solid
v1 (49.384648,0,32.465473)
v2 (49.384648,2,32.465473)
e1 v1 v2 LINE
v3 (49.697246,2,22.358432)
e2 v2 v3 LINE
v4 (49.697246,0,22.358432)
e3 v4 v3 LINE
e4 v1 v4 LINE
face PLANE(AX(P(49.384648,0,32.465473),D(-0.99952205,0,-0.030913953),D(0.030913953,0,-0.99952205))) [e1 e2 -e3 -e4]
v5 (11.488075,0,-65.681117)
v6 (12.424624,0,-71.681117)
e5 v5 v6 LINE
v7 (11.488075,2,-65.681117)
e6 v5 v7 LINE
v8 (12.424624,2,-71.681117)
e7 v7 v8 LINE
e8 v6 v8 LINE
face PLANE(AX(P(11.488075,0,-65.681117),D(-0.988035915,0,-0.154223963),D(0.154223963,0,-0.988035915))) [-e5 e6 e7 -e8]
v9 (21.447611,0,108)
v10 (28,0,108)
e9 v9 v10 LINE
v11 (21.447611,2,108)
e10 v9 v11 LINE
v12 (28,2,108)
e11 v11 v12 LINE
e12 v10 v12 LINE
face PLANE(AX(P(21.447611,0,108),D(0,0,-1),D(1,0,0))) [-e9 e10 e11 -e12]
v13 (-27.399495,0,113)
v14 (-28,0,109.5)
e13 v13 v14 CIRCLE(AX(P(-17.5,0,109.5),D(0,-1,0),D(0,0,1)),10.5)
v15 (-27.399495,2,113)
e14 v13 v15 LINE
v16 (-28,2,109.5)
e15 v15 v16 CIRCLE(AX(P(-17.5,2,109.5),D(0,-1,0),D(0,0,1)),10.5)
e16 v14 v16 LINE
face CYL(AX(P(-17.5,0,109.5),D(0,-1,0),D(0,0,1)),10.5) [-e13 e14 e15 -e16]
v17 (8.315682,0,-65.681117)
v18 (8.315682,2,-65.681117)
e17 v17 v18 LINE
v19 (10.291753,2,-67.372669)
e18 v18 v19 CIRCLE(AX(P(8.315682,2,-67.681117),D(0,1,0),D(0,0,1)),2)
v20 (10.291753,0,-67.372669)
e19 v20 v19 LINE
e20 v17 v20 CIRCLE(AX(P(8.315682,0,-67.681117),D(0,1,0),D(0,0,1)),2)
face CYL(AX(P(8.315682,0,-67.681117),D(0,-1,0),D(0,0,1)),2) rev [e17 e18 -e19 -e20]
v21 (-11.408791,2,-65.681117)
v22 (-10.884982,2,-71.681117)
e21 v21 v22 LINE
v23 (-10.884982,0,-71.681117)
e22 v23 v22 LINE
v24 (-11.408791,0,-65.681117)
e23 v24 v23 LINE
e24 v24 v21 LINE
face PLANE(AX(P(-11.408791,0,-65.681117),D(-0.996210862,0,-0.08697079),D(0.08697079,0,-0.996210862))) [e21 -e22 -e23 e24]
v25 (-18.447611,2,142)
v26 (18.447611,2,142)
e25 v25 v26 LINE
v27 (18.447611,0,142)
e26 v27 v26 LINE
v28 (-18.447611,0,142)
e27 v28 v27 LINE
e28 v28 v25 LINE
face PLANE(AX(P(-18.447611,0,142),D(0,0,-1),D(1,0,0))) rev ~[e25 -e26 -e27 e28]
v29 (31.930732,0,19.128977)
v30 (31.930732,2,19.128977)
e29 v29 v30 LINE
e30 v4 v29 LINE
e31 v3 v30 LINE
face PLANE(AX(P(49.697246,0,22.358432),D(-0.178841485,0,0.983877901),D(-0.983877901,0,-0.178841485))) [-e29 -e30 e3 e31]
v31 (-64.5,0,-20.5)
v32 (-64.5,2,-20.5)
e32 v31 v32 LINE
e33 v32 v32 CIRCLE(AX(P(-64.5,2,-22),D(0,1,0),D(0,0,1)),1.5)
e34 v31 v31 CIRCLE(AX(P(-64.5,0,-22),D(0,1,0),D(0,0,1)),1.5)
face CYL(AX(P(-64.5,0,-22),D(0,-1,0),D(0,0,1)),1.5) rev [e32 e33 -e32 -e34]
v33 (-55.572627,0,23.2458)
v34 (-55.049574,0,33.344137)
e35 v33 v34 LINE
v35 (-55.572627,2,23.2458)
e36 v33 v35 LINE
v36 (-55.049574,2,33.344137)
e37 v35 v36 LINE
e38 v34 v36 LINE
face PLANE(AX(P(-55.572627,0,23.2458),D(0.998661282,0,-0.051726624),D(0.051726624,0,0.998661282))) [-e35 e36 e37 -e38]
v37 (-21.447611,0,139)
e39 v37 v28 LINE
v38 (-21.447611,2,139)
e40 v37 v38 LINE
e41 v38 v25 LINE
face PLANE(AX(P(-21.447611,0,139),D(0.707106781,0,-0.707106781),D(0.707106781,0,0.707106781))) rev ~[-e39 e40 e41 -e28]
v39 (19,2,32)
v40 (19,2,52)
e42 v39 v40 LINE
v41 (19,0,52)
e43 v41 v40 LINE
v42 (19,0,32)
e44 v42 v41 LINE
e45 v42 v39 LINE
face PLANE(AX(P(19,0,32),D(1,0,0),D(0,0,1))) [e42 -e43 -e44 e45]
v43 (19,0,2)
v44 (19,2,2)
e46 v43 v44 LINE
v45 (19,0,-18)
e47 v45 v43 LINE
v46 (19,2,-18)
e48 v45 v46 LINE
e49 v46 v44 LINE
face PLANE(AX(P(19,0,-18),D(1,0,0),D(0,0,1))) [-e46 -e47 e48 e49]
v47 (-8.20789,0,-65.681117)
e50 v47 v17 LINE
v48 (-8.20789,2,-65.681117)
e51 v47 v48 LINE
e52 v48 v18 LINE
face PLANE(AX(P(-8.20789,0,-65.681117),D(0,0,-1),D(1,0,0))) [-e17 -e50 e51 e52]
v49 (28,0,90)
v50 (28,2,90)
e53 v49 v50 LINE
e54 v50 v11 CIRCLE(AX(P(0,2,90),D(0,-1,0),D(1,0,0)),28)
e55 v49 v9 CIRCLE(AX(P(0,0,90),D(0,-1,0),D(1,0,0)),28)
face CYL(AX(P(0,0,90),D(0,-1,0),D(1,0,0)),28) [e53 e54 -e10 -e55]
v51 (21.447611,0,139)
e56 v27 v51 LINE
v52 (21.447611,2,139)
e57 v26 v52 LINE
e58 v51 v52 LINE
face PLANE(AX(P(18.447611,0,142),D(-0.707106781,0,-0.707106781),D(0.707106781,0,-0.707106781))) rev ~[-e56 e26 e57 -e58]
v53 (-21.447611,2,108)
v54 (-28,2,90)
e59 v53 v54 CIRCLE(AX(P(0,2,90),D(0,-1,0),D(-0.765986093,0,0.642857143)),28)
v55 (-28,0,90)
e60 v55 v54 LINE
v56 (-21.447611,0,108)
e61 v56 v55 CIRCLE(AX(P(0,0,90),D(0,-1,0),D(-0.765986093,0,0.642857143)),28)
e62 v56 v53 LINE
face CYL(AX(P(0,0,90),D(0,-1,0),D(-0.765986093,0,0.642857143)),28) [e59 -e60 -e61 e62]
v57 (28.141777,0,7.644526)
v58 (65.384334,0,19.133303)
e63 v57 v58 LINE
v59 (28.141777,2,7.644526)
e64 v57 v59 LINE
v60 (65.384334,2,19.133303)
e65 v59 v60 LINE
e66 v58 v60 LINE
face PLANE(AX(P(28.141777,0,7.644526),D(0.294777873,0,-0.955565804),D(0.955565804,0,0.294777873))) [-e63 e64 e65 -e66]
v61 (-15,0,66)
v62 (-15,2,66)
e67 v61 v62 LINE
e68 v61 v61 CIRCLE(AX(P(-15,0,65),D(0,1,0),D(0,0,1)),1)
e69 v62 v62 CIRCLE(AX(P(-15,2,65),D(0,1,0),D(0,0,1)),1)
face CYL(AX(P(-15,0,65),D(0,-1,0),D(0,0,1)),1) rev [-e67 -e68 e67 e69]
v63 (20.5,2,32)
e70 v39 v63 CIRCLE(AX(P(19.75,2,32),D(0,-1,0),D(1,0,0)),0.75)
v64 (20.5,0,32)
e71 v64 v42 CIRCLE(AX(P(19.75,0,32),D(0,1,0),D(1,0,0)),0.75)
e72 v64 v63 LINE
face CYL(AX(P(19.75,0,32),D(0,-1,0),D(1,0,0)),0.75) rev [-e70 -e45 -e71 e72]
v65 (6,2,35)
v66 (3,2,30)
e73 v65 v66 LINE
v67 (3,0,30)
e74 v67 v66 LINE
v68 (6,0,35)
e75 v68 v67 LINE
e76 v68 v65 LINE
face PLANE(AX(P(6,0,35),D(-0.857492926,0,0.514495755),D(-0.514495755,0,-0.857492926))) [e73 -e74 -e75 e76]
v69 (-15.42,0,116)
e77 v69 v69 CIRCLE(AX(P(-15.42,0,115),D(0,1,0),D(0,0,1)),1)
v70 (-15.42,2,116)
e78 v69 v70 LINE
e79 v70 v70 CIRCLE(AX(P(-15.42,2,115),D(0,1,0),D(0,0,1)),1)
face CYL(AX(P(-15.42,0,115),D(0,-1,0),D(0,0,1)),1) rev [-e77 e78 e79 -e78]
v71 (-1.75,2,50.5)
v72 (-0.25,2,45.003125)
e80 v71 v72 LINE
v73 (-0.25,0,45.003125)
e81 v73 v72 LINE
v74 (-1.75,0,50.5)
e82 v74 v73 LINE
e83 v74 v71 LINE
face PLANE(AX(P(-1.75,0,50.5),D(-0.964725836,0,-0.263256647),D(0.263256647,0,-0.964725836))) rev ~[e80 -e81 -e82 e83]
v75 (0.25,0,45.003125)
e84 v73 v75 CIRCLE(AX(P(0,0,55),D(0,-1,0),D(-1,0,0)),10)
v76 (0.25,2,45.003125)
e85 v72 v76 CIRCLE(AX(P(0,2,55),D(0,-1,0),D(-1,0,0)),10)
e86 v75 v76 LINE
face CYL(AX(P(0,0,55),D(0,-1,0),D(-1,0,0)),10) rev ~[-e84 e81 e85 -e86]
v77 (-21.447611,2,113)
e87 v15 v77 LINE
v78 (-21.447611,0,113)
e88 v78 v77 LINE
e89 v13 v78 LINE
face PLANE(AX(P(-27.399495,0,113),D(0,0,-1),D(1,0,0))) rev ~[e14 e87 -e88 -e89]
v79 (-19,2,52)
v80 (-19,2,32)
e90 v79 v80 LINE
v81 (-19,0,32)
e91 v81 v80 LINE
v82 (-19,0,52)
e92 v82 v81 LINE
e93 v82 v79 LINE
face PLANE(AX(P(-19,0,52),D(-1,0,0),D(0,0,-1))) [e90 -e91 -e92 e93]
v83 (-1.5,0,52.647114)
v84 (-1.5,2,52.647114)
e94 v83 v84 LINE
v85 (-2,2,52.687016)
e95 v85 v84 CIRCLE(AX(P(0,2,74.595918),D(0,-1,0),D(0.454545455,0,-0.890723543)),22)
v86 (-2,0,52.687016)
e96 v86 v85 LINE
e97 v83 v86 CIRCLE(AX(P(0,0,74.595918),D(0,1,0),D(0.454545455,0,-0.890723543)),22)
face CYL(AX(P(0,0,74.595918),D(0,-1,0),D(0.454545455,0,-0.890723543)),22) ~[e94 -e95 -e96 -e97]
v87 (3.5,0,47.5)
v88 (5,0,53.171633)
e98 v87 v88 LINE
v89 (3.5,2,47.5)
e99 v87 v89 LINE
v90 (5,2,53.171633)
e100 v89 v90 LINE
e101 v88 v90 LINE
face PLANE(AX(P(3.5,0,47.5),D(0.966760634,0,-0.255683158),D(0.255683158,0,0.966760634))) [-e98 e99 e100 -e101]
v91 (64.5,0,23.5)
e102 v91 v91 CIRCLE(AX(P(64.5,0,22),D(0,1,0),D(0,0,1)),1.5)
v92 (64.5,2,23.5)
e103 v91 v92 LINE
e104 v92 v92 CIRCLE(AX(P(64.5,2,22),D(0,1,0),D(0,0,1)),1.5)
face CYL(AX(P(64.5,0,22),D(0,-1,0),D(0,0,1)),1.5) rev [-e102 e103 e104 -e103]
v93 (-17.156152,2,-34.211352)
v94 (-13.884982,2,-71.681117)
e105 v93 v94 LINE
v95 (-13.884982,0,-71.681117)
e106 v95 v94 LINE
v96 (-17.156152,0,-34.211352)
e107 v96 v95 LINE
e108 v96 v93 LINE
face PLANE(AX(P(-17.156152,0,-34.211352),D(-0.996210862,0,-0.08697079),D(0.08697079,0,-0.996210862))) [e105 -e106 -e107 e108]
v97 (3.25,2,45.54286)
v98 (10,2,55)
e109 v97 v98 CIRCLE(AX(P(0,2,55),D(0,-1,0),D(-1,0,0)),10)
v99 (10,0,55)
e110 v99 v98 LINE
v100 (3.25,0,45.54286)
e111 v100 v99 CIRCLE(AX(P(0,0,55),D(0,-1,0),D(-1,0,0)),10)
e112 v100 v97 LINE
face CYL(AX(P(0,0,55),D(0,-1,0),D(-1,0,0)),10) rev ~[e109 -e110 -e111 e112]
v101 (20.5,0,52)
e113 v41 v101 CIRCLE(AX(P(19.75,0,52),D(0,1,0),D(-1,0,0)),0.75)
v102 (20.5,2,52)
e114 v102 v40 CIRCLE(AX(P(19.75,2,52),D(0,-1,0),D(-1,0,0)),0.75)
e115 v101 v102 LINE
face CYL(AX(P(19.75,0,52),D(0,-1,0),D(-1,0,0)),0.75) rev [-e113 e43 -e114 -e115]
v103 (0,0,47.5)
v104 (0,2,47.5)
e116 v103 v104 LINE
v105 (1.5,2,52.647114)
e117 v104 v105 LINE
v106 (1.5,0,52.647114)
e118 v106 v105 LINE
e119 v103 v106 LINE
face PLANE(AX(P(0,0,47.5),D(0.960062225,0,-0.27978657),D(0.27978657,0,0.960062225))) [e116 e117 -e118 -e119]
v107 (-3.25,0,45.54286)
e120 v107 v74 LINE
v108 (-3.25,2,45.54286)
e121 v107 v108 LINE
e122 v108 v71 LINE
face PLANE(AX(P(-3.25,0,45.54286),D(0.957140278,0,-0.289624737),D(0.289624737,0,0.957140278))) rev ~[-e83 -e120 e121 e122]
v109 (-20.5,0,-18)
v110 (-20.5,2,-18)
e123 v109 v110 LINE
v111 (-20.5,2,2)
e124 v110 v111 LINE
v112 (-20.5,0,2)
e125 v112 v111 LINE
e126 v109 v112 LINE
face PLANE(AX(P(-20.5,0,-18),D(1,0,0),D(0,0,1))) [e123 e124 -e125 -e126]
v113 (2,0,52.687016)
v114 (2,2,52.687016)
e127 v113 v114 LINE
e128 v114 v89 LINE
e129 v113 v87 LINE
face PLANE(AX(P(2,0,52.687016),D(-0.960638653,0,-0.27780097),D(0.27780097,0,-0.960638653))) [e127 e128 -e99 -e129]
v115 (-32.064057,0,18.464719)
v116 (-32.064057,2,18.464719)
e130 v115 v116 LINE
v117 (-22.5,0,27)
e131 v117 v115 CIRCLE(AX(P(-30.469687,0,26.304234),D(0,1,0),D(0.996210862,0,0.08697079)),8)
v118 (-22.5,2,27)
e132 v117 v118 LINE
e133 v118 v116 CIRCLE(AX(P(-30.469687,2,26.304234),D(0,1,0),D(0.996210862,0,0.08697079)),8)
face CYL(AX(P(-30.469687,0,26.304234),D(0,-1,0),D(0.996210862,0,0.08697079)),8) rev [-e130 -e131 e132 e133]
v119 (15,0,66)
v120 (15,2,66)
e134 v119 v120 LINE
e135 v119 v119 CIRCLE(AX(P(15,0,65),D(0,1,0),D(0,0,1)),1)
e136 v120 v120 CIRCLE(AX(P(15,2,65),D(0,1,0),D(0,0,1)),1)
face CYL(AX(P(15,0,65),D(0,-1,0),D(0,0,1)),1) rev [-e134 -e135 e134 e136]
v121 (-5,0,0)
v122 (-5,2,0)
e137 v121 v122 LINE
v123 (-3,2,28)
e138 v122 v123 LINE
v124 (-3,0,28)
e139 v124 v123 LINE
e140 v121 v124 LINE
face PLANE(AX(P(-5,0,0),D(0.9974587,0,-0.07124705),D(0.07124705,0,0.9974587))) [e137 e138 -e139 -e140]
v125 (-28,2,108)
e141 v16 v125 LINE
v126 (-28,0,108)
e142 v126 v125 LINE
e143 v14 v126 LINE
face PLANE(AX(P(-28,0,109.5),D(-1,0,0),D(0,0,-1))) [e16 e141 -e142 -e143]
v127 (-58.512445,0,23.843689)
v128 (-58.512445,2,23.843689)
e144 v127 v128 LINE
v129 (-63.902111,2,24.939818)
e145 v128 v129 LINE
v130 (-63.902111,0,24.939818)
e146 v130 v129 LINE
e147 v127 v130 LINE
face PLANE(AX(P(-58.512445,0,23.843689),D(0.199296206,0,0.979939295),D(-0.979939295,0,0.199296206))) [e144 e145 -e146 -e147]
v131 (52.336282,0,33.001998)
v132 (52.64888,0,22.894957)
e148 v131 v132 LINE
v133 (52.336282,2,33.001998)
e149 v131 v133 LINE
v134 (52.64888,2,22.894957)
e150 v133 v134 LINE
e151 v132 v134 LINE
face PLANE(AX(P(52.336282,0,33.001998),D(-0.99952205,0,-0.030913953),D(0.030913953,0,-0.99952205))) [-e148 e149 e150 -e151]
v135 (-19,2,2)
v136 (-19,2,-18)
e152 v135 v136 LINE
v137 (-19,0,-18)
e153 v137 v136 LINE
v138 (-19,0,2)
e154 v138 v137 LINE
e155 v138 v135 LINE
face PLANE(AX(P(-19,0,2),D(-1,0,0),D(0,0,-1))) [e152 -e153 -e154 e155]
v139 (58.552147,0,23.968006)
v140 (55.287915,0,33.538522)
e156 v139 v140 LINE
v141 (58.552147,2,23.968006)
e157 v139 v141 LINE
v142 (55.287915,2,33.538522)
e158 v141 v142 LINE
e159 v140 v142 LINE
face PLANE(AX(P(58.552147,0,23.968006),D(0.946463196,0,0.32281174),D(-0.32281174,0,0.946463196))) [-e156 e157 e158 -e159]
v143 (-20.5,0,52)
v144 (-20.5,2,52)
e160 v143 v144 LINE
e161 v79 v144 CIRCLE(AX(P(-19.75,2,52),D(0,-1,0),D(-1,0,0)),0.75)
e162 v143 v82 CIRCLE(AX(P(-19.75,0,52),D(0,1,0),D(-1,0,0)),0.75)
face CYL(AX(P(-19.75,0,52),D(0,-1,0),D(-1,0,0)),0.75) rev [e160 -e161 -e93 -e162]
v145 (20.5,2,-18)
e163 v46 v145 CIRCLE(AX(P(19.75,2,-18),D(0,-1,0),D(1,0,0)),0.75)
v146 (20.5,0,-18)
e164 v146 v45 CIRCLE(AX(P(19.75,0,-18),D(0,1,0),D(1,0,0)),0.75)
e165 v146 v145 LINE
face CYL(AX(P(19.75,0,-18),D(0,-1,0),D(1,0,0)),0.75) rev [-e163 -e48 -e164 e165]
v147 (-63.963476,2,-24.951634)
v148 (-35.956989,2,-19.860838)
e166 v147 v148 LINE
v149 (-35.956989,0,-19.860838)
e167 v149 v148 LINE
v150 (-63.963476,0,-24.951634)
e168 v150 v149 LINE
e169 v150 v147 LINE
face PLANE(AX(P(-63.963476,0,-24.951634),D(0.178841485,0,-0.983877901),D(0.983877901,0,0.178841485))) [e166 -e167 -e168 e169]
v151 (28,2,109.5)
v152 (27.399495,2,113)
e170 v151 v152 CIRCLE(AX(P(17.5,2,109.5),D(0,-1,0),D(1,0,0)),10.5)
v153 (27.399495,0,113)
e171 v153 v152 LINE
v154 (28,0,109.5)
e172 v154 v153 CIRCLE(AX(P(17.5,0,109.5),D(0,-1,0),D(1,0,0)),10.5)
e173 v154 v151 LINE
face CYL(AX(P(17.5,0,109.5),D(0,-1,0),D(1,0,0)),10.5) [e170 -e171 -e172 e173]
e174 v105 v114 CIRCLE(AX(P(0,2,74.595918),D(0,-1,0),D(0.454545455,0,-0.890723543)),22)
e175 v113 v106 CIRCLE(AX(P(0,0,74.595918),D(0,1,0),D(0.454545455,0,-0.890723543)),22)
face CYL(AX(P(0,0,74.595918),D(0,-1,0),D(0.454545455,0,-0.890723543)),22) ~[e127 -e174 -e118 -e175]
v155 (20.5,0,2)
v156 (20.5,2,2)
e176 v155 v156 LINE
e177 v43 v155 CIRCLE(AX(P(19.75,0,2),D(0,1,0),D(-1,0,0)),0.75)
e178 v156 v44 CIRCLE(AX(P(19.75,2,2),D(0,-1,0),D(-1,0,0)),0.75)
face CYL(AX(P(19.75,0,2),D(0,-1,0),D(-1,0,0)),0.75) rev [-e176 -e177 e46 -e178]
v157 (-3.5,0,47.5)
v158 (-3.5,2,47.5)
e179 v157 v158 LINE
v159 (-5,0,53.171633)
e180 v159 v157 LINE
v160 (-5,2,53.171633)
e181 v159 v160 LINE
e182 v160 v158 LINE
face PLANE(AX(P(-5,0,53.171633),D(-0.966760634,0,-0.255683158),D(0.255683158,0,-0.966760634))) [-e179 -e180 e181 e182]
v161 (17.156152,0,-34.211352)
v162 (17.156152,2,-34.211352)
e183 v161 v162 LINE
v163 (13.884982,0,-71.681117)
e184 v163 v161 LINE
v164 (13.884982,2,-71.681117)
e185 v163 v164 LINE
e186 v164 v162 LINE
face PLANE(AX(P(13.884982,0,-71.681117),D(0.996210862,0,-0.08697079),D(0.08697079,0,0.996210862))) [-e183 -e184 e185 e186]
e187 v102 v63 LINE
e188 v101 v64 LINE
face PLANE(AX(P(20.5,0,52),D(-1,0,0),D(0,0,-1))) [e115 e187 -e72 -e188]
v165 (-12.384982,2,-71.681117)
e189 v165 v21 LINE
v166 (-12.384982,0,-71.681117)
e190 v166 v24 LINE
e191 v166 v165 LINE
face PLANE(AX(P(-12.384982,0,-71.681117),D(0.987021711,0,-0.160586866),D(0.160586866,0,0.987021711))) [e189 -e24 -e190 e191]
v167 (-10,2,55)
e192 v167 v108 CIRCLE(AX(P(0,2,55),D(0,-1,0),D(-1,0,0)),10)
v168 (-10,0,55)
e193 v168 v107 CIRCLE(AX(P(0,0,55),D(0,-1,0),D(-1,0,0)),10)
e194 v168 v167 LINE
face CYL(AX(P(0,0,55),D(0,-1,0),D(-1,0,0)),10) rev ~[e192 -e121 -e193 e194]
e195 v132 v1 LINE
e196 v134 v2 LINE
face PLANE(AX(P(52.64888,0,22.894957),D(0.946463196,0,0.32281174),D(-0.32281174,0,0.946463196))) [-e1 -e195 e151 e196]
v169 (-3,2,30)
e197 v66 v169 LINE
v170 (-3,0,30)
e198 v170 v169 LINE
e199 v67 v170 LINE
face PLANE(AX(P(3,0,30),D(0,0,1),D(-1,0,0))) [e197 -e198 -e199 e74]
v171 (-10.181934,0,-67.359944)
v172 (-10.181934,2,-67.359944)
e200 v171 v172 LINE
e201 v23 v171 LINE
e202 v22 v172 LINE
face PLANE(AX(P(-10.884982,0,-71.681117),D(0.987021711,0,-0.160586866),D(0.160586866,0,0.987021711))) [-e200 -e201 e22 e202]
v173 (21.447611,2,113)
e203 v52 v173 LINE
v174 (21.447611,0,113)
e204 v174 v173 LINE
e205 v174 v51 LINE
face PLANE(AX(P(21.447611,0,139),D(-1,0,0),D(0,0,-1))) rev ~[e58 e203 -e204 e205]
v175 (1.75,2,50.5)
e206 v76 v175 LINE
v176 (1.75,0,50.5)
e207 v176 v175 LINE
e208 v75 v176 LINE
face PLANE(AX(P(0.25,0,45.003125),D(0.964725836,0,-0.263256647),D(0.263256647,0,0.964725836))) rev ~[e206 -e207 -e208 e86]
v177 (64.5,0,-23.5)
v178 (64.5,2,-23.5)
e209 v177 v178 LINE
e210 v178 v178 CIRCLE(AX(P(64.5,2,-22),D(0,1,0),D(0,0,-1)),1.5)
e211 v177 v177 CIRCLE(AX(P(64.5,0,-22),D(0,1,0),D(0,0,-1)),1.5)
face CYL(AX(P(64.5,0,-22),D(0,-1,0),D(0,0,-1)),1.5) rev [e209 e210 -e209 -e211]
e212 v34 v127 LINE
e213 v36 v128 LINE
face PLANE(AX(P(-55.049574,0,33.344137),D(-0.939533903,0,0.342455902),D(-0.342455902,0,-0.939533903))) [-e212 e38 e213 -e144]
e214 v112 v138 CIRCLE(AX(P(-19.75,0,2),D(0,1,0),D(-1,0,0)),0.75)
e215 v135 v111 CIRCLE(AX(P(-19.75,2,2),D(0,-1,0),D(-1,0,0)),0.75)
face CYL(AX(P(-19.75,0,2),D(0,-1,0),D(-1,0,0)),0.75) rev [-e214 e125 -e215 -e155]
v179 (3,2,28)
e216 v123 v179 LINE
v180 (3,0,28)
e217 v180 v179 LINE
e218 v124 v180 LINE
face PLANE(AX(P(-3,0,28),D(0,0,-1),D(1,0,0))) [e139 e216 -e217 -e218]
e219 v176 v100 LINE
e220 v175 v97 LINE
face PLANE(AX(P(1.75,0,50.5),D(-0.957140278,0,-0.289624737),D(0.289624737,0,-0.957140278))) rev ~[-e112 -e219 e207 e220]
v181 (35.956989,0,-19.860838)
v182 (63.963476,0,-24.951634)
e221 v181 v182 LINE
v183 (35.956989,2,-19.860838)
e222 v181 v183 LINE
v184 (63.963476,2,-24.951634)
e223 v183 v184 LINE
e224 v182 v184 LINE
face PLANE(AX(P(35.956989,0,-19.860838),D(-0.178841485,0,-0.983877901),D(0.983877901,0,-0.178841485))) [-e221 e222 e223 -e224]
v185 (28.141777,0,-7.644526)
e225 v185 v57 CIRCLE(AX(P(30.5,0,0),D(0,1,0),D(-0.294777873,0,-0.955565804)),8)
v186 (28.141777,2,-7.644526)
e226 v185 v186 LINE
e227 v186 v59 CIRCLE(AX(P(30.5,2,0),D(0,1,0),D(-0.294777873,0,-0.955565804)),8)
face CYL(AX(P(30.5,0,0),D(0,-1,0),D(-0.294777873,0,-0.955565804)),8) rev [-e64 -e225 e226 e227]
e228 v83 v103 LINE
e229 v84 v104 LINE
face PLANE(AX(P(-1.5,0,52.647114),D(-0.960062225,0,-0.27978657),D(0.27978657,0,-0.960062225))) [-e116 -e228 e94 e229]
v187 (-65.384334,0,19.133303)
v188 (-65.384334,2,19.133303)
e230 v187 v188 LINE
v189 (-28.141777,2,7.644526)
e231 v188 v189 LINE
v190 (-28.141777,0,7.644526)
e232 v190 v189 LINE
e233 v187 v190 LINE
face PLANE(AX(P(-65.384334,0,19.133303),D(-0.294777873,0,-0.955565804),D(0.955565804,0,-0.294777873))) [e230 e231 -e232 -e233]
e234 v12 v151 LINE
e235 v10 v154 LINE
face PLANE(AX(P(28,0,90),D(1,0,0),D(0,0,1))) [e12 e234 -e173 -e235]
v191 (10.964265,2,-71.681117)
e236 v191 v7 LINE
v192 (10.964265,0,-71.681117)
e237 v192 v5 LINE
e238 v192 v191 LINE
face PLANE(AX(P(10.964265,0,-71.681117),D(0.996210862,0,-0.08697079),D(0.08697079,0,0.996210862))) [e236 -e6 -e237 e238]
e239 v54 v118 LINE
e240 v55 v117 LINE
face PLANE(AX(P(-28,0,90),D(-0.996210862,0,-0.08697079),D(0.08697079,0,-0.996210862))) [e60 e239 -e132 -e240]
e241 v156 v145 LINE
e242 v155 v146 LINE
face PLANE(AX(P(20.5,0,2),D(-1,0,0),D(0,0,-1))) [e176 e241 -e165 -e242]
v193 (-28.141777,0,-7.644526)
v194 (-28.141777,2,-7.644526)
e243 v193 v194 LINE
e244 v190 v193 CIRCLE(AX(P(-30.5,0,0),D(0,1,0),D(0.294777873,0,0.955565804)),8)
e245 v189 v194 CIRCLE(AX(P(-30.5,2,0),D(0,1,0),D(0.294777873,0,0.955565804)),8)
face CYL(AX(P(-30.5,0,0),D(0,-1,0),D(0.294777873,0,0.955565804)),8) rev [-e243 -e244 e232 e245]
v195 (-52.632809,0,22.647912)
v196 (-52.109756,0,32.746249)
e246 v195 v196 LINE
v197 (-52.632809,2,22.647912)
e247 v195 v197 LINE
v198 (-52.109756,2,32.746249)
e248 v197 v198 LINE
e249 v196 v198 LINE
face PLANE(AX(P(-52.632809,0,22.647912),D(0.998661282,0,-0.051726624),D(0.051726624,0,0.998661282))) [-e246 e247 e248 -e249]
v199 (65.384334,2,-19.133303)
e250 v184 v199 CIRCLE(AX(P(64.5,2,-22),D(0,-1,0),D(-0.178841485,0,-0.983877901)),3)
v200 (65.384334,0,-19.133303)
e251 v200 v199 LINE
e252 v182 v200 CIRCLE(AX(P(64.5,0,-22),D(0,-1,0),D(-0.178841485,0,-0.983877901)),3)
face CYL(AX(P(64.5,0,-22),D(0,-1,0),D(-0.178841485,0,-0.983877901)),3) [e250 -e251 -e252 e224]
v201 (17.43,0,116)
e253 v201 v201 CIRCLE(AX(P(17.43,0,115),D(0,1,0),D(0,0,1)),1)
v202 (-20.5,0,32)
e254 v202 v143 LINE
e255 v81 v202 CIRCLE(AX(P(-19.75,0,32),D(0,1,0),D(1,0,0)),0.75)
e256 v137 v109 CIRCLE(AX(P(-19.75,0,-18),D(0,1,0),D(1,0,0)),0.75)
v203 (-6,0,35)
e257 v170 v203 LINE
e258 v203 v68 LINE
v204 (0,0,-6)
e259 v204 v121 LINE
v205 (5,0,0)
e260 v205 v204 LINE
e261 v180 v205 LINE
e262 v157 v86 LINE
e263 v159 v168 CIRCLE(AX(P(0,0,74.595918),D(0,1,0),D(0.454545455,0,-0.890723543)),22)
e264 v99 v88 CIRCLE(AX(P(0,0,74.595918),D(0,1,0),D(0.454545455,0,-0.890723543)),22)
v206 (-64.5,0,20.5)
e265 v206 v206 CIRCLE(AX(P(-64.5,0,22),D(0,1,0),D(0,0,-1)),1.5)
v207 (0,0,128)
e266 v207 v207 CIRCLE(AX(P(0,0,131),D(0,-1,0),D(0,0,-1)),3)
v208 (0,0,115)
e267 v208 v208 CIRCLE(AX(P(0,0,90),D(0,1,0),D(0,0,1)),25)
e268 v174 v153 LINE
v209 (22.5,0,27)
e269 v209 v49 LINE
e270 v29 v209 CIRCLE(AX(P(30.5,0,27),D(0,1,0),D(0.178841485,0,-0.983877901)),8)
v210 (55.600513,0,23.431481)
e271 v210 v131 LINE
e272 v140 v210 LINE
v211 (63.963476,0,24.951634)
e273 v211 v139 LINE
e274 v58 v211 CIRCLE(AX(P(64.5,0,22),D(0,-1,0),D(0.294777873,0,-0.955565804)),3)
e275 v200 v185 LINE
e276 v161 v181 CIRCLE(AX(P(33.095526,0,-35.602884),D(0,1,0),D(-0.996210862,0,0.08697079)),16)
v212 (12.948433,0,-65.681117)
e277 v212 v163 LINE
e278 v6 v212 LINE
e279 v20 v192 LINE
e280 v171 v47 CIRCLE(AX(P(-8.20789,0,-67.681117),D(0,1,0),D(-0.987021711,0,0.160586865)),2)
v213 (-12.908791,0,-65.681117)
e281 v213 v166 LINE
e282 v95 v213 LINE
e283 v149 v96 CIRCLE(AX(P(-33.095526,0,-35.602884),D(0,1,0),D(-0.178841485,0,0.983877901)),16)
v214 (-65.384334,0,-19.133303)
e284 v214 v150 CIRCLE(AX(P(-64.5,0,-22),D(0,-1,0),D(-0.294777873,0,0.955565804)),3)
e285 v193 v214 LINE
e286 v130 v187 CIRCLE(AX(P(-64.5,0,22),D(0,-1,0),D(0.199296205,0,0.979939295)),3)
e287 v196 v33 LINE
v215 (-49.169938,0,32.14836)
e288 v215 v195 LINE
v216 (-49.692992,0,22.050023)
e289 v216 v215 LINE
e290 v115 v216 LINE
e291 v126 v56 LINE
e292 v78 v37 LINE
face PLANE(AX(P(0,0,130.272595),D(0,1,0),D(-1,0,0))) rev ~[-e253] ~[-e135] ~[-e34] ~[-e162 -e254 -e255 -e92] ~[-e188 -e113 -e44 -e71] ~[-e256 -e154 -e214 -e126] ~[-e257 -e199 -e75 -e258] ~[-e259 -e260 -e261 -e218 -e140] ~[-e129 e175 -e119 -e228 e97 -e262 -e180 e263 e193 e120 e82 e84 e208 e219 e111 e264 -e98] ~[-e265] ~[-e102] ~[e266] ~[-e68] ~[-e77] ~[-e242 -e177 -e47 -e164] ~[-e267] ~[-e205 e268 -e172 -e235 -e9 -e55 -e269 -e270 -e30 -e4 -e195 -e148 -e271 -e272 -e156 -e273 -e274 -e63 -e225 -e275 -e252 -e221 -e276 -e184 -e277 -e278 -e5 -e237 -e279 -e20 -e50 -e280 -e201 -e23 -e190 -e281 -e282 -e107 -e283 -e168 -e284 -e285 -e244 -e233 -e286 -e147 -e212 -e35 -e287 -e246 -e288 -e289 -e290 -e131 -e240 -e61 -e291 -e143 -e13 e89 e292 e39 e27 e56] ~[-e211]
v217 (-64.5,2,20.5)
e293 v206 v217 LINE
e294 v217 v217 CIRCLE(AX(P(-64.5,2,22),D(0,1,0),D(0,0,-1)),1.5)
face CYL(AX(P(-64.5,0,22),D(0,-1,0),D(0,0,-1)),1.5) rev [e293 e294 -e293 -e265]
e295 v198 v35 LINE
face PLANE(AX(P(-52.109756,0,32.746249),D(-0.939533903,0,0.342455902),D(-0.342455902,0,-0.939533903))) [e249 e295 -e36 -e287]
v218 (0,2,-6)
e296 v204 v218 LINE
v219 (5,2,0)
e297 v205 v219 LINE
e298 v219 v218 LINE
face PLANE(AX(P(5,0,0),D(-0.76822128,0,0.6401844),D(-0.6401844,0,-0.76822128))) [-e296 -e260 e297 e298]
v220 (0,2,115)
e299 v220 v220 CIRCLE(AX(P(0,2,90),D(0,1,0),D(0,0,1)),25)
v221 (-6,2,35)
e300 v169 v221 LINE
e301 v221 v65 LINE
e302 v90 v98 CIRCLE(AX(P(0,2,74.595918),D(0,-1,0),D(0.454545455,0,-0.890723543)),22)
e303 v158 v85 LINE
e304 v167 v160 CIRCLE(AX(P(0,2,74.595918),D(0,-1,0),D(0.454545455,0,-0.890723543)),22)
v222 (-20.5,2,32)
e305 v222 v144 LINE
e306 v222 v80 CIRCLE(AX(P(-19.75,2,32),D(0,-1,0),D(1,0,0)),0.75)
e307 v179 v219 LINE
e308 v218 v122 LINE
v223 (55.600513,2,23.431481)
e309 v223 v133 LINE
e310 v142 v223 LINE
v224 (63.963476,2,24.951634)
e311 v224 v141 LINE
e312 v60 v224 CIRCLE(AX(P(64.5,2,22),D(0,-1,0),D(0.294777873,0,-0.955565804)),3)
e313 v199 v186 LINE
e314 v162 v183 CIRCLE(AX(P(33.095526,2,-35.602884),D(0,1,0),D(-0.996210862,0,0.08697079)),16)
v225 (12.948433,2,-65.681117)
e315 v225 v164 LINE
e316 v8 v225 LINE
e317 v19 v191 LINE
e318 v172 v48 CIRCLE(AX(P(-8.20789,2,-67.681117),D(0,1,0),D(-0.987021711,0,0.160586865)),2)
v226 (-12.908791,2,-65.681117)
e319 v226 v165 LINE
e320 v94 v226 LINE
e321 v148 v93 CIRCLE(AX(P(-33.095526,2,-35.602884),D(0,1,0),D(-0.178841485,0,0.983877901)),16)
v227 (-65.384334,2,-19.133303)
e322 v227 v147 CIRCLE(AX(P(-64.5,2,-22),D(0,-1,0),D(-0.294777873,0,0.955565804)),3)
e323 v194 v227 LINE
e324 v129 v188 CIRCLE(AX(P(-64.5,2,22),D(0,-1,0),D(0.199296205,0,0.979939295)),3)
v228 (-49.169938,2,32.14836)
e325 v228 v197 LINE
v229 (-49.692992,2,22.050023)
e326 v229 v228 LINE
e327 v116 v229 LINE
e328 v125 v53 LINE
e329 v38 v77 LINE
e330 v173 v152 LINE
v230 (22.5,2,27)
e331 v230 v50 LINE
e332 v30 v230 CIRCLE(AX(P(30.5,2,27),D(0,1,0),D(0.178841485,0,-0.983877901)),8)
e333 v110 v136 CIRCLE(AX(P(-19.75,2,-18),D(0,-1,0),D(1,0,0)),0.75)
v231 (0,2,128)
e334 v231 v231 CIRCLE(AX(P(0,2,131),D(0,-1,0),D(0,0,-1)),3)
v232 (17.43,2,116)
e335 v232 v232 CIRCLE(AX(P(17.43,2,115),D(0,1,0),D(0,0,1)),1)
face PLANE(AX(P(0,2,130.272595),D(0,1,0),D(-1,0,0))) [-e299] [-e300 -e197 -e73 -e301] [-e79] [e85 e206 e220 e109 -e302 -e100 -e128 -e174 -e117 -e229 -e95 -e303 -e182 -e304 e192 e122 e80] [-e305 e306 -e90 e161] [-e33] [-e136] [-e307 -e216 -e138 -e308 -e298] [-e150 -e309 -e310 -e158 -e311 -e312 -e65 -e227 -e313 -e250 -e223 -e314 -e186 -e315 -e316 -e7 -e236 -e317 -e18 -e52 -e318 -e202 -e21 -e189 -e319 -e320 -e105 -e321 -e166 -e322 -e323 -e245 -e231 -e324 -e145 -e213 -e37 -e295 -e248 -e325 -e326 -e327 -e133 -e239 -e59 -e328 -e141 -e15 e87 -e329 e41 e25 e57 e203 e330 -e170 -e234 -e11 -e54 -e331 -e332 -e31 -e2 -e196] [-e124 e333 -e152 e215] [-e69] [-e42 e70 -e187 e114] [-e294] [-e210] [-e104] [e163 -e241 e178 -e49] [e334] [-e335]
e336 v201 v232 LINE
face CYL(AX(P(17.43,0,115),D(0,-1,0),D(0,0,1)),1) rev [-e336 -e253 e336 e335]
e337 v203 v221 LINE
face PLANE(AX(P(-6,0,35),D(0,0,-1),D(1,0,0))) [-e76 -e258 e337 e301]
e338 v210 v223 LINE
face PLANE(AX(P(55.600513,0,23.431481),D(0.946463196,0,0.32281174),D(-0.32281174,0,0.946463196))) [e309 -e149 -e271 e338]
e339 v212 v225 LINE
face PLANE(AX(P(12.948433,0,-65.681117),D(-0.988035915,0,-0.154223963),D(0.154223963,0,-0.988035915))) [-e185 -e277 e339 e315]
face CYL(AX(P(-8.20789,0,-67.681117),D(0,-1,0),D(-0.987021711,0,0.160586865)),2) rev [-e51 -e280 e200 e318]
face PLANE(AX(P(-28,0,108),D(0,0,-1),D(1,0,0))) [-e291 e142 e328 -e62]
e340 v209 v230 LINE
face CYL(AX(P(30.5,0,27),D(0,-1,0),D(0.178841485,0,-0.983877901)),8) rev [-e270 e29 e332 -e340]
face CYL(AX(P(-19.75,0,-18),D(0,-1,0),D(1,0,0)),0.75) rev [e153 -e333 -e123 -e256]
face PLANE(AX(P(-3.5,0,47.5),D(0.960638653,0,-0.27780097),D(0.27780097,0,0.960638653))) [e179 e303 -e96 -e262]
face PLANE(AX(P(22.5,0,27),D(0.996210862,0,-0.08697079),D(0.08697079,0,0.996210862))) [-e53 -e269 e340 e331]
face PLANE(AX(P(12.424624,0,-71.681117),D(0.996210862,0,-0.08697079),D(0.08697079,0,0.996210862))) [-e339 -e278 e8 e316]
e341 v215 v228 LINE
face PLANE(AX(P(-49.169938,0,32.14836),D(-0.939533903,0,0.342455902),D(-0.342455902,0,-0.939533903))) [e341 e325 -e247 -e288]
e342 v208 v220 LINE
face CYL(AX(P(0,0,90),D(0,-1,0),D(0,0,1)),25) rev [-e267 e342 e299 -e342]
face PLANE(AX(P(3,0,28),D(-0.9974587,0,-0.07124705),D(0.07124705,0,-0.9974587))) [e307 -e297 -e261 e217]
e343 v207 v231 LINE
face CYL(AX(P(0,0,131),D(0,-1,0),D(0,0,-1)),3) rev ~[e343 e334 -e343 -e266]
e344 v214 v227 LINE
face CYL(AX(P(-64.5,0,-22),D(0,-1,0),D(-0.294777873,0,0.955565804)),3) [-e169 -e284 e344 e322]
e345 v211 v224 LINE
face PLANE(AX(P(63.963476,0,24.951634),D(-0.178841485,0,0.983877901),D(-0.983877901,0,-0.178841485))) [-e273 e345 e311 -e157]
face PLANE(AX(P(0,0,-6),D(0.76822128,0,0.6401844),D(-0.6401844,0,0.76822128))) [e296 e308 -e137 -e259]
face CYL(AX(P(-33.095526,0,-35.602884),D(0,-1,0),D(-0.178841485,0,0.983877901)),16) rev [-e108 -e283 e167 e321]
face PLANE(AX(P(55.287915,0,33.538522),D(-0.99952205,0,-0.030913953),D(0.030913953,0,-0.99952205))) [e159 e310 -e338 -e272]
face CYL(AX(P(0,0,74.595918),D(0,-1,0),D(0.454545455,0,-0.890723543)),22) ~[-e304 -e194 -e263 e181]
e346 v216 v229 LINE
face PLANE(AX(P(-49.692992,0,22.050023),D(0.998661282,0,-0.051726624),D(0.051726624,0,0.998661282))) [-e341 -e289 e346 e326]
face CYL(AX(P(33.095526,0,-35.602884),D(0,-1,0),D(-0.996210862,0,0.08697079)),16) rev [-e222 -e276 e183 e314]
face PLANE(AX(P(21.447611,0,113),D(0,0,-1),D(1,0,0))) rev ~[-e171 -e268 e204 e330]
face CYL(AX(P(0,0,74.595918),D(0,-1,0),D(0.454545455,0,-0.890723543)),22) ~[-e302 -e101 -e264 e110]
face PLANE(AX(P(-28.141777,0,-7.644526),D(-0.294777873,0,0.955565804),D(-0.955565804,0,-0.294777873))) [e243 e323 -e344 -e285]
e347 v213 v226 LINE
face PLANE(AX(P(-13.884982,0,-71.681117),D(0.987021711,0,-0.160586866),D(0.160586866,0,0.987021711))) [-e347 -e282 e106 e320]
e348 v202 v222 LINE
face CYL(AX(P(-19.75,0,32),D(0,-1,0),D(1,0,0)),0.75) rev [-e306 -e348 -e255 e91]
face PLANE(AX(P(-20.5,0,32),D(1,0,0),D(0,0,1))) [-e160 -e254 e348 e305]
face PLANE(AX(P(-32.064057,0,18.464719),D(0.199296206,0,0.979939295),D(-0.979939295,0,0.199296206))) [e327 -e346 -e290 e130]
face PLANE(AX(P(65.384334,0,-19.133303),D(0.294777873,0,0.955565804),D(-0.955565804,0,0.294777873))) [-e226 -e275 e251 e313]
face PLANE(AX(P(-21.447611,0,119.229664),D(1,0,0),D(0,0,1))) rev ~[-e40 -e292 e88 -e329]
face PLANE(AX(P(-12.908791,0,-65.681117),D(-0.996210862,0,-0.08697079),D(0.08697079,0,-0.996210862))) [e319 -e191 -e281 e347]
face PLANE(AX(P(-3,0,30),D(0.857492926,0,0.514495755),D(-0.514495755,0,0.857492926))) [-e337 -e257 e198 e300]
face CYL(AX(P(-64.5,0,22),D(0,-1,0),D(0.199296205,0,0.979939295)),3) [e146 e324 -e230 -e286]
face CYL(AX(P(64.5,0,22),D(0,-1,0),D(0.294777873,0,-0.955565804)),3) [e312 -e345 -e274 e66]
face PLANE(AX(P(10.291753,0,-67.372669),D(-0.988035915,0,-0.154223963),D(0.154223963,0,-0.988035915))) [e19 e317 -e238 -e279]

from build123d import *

# Parameters (mm, degrees)
SKETCH_1_R          = 1.5
SKETCH_1_R_2        = 25
SKETCH_1_R_3        = 1
EXTRUDE_1_DEPTH     = 2
CUT_EXTRUDE_1_DEPTH = 10
EXTRUDE_2_DEPTH     = 2
CUT_EXTRUDE_2_DEPTH = 2
CUT_EXTRUDE_3_DEPTH = 2
SKETCH_6_R          = 3
EXTRUDE_3_DEPTH     = 2


with BuildPart() as part:
    # 草图1 → 凸台-拉伸1 (new body)
    with BuildSketch(Plane(origin=(0, 0, 0), x_dir=(1, 0, 0), z_dir=(0, 1, 0))):
        with BuildLine():
            Line((-65.384333619, -19.133302588), (-28.141777015, -7.644526431))
            ThreePointArc((-28.141777015, -7.644526431), (-22.5, 0), (-28.141777015, 7.644526431))
            Line((-28.141777015, 7.644526431), (-65.384333619, 19.133302588))
            ThreePointArc((-65.384333619, 19.133302588), (-67.41435877, 22.711697239), (-63.963475544, 24.951633702))
            Line((-63.963475544, 24.951633702), (-35.956989403, 19.860837807))
            ThreePointArc((-35.956989403, 19.860837807), (-23.387681178, 22.884481961), (-17.156151846, 34.211351583))
            Line((-17.156151846, 34.211351583), (-13.884981819, 71.681117341))
            Line((-13.884981819, 71.681117341), (-12.908791343, 65.681117341))
            Line((-12.908791343, 65.681117341), (-12.384981819, 71.681117341))
            Line((-12.384981819, 71.681117341), (-11.408791343, 65.681117341))
            Line((-11.408791343, 65.681117341), (-10.884981819, 71.681117341))
            Line((-10.884981819, 71.681117341), (-10.181933712, 67.359943609))
            ThreePointArc((-10.181933712, 67.359943609), (-9.503585574, 66.157577472), (-8.20789029, 65.681117341))
            Line((-8.20789029, 65.681117341), (8.315681587, 65.681117341))
            ThreePointArc((8.315681587, 65.681117341), (9.616278401, 66.161759606), (10.291753417, 67.372669415))
            Line((10.291753417, 67.372669415), (10.964265319, 71.681117341))
            Line((10.964265319, 71.681117341), (11.488074843, 65.681117341))
            Line((11.488074843, 65.681117341), (12.424623569, 71.681117341))
            Line((12.424623569, 71.681117341), (12.948433093, 65.681117341))
            Line((12.948433093, 65.681117341), (13.884981819, 71.681117341))
            Line((13.884981819, 71.681117341), (17.156151846, 34.211351583))
            ThreePointArc((17.156151846, 34.211351583), (23.387681178, 22.884481961), (35.956989403, 19.860837807))
            Line((35.956989403, 19.860837807), (63.963475544, 24.951633702))
            ThreePointArc((63.963475544, 24.951633702), (67.41435877, 22.711697239), (65.384333619, 19.133302588))
            Line((65.384333619, 19.133302588), (28.141777015, 7.644526431))
            ThreePointArc((28.141777015, 7.644526431), (22.5, 0), (28.141777015, -7.644526431))
            Line((28.141777015, -7.644526431), (65.384333619, -19.133302588))
            ThreePointArc((65.384333619, -19.133302588), (67.41435877, -22.711697239), (63.963475544, -24.951633702))
            Line((63.963475544, -24.951633702), (58.552147091, -23.968005533))
            Line((58.552147091, -23.968005533), (55.287915388, -33.53852231))
            Line((55.287915388, -33.53852231), (55.60051339, -23.431481077))
            Line((55.60051339, -23.431481077), (52.336281687, -33.001997855))
            Line((52.336281687, -33.001997855), (52.648879688, -22.894956622))
            Line((52.648879688, -22.894956622), (49.384647985, -32.465473399))
            Line((49.384647985, -32.465473399), (49.697245987, -22.358432166))
            Line((49.697245987, -22.358432166), (31.930731882, -19.128976796))
            ThreePointArc((31.930731882, -19.128976796), (25.373883295, -20.858100658), (22.5, -27))
            Line((22.5, -27), (28, -90))
            Line((28, -90), (28, -109.5))
            ThreePointArc((28, -109.5), (24.924621202, -116.924621202), (17.5, -120))
            Line((17.5, -120), (-17.5, -120))
            ThreePointArc((-17.5, -120), (-24.924621202, -116.924621202), (-28, -109.5))
            Line((-28, -109.5), (-28, -90))
            Line((-28, -90), (-22.5, -27))
            ThreePointArc((-22.5, -27), (-25.142969185, -20.335475151), (-32.064056542, -18.464719321))
            Line((-32.064056542, -18.464719321), (-49.692991602, -22.050022904))
            Line((-49.692991602, -22.050022904), (-49.169938488, -32.148360166))
            Line((-49.169938488, -32.148360166), (-52.632809487, -22.647911521))
            Line((-52.632809487, -22.647911521), (-52.109756374, -32.746248782))
            Line((-52.109756374, -32.746248782), (-55.572627373, -23.245800138))
            Line((-55.572627373, -23.245800138), (-55.04957426, -33.344137399))
            Line((-55.04957426, -33.344137399), (-58.512445259, -23.843688755))
            Line((-58.512445259, -23.843688755), (-63.902111383, -24.939817886))
            ThreePointArc((-63.902111383, -24.939817886), (-67.406788203, -22.742012359), (-65.384333619, -19.133302588))
        make_face()
        with Locations(Location((-64.5, 22, 0), (0, 0, 270))):
            Circle(SKETCH_1_R, mode=Mode.SUBTRACT)
        with Locations(Location((64.5, 22, 0), (0, 0, 90))):
            Circle(SKETCH_1_R, mode=Mode.SUBTRACT)
        with Locations(Location((64.5, -22, 0), (0, 0, 270))):
            Circle(SKETCH_1_R, mode=Mode.SUBTRACT)
        with Locations(Location((-64.5, -22, 0), (0, 0, 90))):
            Circle(SKETCH_1_R, mode=Mode.SUBTRACT)
        with Locations(Location((0, -90, 0), (0, 0, 270))):
            Circle(SKETCH_1_R_2, mode=Mode.SUBTRACT)
        with Locations(Location((-15, -65, 0), (0, 0, 270))):
            Circle(SKETCH_1_R_3, mode=Mode.SUBTRACT)
        with Locations(Location((15, -65, 0), (0, 0, 270))):
            Circle(SKETCH_1_R_3, mode=Mode.SUBTRACT)
        with Locations(Location((-15.42, -115, 0), (0, 0, 270))):
            Circle(SKETCH_1_R_3, mode=Mode.SUBTRACT)
        with Locations(Location((17.43, -115, 0), (0, 0, 270))):
            Circle(SKETCH_1_R_3, mode=Mode.SUBTRACT)
    extrude(amount=EXTRUDE_1_DEPTH)

    # 草图2 → 切除-拉伸1 (cut)
    with BuildSketch(Plane.XZ):
        with BuildLine():
            Line((-19, 2), (-19, -18))
            ThreePointArc((-19, -18), (-19.75, -18.75), (-20.5, -18))
            Line((-20.5, -18), (-20.5, 2))
            ThreePointArc((-20.5, 2), (-19.75, 2.75), (-19, 2))
        make_face()
        with BuildLine():
            Line((20.5, 2), (20.5, -18))
            ThreePointArc((20.5, -18), (19.75, -18.75), (19, -18))
            Line((19, -18), (19, 2))
            ThreePointArc((19, 2), (19.75, 2.75), (20.5, 2))
        make_face()
        with BuildLine():
            Line((-19, 52), (-19, 32))
            ThreePointArc((-19, 32), (-19.75, 31.25), (-20.5, 32))
            Line((-20.5, 32), (-20.5, 52))
            ThreePointArc((-20.5, 52), (-19.75, 52.75), (-19, 52))
        make_face()
        with BuildLine():
            Line((20.5, 52), (20.5, 32))
            ThreePointArc((20.5, 32), (19.75, 31.25), (19, 32))
            Line((19, 32), (19, 52))
            ThreePointArc((19, 52), (19.75, 52.75), (20.5, 52))
        make_face()
        with BuildLine():
            ThreePointArc((-10, 55), (0, 45), (10, 55))
            ThreePointArc((10, 55), (0, 52.595917942), (-10, 55))
        make_face()
    extrude(amount=-CUT_EXTRUDE_1_DEPTH, mode=Mode.SUBTRACT)

    # 草图3 → 凸台-拉伸2 (add)
    with BuildSketch(Plane.XZ):
        Polygon((-1.5, 52.647113875), (0, 47.5), (1.5, 52.647113875), (1.5, 53.687015642), (2, 53.687015642), (2, 52.687015642), (3.5, 47.5), (5, 53.171632657), (5, 54.171632657), (-5, 54.171632657), (-5, 53.171632657), (-3.5, 47.5), (-2, 52.687015642), (-2, 53.687015642), (-1.5, 53.687015642), align=None)
        Polygon((-1.75, 50.5), (-0.25, 45.003125488), (-0.25, 44.003125488), (0.25, 44.003125488), (0.25, 45.003125488), (1.75, 50.5), (3.25, 45.54285984), (3.25, 43.54285984), (-3.25, 43.54285984), (-3.25, 45.54285984), align=None)
    extrude(amount=-EXTRUDE_2_DEPTH)

    # 草图4 → 切除-拉伸2 (cut)
    with BuildSketch(Plane.XZ):
        with BuildLine():
            Line((-28, 108), (-21.44761059, 108))
            ThreePointArc((-21.44761059, 108), (-26.31095871, 99.57775818), (-28, 90))
            Line((-28, 90), (-28, 108))
        make_face()
        with BuildLine():
            Line((-21.44761059, 113), (-21.44761059, 119.229664467))
            ThreePointArc((-21.44761059, 119.229664467), (-25.091953813, 116.753429347), (-27.399494937, 113))
            Line((-27.399494937, 113), (-21.44761059, 113))
        make_face()
        with BuildLine():
            Line((21.44761059, 119.229664467), (21.44761059, 113))
            Line((21.44761059, 113), (27.399494937, 113))
            ThreePointArc((27.399494937, 113), (25.091953813, 116.753429347), (21.44761059, 119.229664467))
        make_face()
        with BuildLine():
            Line((21.44761059, 108), (28, 108))
            Line((28, 108), (28, 90))
            ThreePointArc((28, 90), (26.31095871, 99.57775818), (21.44761059, 108))
        make_face()
    extrude(amount=-CUT_EXTRUDE_2_DEPTH, mode=Mode.SUBTRACT)

    # 草图5 → 切除-拉伸3 (cut)
    with BuildSketch(Plane.XZ):
        Polygon((-6, 35), (6, 35), (3, 30), (-3, 30), align=None)
        Polygon((-3, 28), (3, 28), (5, 0), (0, -6), (-5, 0), align=None)
    extrude(amount=-CUT_EXTRUDE_3_DEPTH, mode=Mode.SUBTRACT)

    # 草图6 → 凸台-拉伸3 (add)
    with BuildSketch(Plane.XZ):
        Polygon((-21.44761059, 119.229664467), (-21.44761059, 139), (-18.44761059, 142), (18.44761059, 142), (21.44761059, 139), (21.44761059, 119.229664467), align=None)
        with Locations(Location((0, 131, 0), (0, 0, 270))):
            Circle(SKETCH_6_R, mode=Mode.SUBTRACT)
    extrude(amount=-EXTRUDE_3_DEPTH)


solid = part.part
